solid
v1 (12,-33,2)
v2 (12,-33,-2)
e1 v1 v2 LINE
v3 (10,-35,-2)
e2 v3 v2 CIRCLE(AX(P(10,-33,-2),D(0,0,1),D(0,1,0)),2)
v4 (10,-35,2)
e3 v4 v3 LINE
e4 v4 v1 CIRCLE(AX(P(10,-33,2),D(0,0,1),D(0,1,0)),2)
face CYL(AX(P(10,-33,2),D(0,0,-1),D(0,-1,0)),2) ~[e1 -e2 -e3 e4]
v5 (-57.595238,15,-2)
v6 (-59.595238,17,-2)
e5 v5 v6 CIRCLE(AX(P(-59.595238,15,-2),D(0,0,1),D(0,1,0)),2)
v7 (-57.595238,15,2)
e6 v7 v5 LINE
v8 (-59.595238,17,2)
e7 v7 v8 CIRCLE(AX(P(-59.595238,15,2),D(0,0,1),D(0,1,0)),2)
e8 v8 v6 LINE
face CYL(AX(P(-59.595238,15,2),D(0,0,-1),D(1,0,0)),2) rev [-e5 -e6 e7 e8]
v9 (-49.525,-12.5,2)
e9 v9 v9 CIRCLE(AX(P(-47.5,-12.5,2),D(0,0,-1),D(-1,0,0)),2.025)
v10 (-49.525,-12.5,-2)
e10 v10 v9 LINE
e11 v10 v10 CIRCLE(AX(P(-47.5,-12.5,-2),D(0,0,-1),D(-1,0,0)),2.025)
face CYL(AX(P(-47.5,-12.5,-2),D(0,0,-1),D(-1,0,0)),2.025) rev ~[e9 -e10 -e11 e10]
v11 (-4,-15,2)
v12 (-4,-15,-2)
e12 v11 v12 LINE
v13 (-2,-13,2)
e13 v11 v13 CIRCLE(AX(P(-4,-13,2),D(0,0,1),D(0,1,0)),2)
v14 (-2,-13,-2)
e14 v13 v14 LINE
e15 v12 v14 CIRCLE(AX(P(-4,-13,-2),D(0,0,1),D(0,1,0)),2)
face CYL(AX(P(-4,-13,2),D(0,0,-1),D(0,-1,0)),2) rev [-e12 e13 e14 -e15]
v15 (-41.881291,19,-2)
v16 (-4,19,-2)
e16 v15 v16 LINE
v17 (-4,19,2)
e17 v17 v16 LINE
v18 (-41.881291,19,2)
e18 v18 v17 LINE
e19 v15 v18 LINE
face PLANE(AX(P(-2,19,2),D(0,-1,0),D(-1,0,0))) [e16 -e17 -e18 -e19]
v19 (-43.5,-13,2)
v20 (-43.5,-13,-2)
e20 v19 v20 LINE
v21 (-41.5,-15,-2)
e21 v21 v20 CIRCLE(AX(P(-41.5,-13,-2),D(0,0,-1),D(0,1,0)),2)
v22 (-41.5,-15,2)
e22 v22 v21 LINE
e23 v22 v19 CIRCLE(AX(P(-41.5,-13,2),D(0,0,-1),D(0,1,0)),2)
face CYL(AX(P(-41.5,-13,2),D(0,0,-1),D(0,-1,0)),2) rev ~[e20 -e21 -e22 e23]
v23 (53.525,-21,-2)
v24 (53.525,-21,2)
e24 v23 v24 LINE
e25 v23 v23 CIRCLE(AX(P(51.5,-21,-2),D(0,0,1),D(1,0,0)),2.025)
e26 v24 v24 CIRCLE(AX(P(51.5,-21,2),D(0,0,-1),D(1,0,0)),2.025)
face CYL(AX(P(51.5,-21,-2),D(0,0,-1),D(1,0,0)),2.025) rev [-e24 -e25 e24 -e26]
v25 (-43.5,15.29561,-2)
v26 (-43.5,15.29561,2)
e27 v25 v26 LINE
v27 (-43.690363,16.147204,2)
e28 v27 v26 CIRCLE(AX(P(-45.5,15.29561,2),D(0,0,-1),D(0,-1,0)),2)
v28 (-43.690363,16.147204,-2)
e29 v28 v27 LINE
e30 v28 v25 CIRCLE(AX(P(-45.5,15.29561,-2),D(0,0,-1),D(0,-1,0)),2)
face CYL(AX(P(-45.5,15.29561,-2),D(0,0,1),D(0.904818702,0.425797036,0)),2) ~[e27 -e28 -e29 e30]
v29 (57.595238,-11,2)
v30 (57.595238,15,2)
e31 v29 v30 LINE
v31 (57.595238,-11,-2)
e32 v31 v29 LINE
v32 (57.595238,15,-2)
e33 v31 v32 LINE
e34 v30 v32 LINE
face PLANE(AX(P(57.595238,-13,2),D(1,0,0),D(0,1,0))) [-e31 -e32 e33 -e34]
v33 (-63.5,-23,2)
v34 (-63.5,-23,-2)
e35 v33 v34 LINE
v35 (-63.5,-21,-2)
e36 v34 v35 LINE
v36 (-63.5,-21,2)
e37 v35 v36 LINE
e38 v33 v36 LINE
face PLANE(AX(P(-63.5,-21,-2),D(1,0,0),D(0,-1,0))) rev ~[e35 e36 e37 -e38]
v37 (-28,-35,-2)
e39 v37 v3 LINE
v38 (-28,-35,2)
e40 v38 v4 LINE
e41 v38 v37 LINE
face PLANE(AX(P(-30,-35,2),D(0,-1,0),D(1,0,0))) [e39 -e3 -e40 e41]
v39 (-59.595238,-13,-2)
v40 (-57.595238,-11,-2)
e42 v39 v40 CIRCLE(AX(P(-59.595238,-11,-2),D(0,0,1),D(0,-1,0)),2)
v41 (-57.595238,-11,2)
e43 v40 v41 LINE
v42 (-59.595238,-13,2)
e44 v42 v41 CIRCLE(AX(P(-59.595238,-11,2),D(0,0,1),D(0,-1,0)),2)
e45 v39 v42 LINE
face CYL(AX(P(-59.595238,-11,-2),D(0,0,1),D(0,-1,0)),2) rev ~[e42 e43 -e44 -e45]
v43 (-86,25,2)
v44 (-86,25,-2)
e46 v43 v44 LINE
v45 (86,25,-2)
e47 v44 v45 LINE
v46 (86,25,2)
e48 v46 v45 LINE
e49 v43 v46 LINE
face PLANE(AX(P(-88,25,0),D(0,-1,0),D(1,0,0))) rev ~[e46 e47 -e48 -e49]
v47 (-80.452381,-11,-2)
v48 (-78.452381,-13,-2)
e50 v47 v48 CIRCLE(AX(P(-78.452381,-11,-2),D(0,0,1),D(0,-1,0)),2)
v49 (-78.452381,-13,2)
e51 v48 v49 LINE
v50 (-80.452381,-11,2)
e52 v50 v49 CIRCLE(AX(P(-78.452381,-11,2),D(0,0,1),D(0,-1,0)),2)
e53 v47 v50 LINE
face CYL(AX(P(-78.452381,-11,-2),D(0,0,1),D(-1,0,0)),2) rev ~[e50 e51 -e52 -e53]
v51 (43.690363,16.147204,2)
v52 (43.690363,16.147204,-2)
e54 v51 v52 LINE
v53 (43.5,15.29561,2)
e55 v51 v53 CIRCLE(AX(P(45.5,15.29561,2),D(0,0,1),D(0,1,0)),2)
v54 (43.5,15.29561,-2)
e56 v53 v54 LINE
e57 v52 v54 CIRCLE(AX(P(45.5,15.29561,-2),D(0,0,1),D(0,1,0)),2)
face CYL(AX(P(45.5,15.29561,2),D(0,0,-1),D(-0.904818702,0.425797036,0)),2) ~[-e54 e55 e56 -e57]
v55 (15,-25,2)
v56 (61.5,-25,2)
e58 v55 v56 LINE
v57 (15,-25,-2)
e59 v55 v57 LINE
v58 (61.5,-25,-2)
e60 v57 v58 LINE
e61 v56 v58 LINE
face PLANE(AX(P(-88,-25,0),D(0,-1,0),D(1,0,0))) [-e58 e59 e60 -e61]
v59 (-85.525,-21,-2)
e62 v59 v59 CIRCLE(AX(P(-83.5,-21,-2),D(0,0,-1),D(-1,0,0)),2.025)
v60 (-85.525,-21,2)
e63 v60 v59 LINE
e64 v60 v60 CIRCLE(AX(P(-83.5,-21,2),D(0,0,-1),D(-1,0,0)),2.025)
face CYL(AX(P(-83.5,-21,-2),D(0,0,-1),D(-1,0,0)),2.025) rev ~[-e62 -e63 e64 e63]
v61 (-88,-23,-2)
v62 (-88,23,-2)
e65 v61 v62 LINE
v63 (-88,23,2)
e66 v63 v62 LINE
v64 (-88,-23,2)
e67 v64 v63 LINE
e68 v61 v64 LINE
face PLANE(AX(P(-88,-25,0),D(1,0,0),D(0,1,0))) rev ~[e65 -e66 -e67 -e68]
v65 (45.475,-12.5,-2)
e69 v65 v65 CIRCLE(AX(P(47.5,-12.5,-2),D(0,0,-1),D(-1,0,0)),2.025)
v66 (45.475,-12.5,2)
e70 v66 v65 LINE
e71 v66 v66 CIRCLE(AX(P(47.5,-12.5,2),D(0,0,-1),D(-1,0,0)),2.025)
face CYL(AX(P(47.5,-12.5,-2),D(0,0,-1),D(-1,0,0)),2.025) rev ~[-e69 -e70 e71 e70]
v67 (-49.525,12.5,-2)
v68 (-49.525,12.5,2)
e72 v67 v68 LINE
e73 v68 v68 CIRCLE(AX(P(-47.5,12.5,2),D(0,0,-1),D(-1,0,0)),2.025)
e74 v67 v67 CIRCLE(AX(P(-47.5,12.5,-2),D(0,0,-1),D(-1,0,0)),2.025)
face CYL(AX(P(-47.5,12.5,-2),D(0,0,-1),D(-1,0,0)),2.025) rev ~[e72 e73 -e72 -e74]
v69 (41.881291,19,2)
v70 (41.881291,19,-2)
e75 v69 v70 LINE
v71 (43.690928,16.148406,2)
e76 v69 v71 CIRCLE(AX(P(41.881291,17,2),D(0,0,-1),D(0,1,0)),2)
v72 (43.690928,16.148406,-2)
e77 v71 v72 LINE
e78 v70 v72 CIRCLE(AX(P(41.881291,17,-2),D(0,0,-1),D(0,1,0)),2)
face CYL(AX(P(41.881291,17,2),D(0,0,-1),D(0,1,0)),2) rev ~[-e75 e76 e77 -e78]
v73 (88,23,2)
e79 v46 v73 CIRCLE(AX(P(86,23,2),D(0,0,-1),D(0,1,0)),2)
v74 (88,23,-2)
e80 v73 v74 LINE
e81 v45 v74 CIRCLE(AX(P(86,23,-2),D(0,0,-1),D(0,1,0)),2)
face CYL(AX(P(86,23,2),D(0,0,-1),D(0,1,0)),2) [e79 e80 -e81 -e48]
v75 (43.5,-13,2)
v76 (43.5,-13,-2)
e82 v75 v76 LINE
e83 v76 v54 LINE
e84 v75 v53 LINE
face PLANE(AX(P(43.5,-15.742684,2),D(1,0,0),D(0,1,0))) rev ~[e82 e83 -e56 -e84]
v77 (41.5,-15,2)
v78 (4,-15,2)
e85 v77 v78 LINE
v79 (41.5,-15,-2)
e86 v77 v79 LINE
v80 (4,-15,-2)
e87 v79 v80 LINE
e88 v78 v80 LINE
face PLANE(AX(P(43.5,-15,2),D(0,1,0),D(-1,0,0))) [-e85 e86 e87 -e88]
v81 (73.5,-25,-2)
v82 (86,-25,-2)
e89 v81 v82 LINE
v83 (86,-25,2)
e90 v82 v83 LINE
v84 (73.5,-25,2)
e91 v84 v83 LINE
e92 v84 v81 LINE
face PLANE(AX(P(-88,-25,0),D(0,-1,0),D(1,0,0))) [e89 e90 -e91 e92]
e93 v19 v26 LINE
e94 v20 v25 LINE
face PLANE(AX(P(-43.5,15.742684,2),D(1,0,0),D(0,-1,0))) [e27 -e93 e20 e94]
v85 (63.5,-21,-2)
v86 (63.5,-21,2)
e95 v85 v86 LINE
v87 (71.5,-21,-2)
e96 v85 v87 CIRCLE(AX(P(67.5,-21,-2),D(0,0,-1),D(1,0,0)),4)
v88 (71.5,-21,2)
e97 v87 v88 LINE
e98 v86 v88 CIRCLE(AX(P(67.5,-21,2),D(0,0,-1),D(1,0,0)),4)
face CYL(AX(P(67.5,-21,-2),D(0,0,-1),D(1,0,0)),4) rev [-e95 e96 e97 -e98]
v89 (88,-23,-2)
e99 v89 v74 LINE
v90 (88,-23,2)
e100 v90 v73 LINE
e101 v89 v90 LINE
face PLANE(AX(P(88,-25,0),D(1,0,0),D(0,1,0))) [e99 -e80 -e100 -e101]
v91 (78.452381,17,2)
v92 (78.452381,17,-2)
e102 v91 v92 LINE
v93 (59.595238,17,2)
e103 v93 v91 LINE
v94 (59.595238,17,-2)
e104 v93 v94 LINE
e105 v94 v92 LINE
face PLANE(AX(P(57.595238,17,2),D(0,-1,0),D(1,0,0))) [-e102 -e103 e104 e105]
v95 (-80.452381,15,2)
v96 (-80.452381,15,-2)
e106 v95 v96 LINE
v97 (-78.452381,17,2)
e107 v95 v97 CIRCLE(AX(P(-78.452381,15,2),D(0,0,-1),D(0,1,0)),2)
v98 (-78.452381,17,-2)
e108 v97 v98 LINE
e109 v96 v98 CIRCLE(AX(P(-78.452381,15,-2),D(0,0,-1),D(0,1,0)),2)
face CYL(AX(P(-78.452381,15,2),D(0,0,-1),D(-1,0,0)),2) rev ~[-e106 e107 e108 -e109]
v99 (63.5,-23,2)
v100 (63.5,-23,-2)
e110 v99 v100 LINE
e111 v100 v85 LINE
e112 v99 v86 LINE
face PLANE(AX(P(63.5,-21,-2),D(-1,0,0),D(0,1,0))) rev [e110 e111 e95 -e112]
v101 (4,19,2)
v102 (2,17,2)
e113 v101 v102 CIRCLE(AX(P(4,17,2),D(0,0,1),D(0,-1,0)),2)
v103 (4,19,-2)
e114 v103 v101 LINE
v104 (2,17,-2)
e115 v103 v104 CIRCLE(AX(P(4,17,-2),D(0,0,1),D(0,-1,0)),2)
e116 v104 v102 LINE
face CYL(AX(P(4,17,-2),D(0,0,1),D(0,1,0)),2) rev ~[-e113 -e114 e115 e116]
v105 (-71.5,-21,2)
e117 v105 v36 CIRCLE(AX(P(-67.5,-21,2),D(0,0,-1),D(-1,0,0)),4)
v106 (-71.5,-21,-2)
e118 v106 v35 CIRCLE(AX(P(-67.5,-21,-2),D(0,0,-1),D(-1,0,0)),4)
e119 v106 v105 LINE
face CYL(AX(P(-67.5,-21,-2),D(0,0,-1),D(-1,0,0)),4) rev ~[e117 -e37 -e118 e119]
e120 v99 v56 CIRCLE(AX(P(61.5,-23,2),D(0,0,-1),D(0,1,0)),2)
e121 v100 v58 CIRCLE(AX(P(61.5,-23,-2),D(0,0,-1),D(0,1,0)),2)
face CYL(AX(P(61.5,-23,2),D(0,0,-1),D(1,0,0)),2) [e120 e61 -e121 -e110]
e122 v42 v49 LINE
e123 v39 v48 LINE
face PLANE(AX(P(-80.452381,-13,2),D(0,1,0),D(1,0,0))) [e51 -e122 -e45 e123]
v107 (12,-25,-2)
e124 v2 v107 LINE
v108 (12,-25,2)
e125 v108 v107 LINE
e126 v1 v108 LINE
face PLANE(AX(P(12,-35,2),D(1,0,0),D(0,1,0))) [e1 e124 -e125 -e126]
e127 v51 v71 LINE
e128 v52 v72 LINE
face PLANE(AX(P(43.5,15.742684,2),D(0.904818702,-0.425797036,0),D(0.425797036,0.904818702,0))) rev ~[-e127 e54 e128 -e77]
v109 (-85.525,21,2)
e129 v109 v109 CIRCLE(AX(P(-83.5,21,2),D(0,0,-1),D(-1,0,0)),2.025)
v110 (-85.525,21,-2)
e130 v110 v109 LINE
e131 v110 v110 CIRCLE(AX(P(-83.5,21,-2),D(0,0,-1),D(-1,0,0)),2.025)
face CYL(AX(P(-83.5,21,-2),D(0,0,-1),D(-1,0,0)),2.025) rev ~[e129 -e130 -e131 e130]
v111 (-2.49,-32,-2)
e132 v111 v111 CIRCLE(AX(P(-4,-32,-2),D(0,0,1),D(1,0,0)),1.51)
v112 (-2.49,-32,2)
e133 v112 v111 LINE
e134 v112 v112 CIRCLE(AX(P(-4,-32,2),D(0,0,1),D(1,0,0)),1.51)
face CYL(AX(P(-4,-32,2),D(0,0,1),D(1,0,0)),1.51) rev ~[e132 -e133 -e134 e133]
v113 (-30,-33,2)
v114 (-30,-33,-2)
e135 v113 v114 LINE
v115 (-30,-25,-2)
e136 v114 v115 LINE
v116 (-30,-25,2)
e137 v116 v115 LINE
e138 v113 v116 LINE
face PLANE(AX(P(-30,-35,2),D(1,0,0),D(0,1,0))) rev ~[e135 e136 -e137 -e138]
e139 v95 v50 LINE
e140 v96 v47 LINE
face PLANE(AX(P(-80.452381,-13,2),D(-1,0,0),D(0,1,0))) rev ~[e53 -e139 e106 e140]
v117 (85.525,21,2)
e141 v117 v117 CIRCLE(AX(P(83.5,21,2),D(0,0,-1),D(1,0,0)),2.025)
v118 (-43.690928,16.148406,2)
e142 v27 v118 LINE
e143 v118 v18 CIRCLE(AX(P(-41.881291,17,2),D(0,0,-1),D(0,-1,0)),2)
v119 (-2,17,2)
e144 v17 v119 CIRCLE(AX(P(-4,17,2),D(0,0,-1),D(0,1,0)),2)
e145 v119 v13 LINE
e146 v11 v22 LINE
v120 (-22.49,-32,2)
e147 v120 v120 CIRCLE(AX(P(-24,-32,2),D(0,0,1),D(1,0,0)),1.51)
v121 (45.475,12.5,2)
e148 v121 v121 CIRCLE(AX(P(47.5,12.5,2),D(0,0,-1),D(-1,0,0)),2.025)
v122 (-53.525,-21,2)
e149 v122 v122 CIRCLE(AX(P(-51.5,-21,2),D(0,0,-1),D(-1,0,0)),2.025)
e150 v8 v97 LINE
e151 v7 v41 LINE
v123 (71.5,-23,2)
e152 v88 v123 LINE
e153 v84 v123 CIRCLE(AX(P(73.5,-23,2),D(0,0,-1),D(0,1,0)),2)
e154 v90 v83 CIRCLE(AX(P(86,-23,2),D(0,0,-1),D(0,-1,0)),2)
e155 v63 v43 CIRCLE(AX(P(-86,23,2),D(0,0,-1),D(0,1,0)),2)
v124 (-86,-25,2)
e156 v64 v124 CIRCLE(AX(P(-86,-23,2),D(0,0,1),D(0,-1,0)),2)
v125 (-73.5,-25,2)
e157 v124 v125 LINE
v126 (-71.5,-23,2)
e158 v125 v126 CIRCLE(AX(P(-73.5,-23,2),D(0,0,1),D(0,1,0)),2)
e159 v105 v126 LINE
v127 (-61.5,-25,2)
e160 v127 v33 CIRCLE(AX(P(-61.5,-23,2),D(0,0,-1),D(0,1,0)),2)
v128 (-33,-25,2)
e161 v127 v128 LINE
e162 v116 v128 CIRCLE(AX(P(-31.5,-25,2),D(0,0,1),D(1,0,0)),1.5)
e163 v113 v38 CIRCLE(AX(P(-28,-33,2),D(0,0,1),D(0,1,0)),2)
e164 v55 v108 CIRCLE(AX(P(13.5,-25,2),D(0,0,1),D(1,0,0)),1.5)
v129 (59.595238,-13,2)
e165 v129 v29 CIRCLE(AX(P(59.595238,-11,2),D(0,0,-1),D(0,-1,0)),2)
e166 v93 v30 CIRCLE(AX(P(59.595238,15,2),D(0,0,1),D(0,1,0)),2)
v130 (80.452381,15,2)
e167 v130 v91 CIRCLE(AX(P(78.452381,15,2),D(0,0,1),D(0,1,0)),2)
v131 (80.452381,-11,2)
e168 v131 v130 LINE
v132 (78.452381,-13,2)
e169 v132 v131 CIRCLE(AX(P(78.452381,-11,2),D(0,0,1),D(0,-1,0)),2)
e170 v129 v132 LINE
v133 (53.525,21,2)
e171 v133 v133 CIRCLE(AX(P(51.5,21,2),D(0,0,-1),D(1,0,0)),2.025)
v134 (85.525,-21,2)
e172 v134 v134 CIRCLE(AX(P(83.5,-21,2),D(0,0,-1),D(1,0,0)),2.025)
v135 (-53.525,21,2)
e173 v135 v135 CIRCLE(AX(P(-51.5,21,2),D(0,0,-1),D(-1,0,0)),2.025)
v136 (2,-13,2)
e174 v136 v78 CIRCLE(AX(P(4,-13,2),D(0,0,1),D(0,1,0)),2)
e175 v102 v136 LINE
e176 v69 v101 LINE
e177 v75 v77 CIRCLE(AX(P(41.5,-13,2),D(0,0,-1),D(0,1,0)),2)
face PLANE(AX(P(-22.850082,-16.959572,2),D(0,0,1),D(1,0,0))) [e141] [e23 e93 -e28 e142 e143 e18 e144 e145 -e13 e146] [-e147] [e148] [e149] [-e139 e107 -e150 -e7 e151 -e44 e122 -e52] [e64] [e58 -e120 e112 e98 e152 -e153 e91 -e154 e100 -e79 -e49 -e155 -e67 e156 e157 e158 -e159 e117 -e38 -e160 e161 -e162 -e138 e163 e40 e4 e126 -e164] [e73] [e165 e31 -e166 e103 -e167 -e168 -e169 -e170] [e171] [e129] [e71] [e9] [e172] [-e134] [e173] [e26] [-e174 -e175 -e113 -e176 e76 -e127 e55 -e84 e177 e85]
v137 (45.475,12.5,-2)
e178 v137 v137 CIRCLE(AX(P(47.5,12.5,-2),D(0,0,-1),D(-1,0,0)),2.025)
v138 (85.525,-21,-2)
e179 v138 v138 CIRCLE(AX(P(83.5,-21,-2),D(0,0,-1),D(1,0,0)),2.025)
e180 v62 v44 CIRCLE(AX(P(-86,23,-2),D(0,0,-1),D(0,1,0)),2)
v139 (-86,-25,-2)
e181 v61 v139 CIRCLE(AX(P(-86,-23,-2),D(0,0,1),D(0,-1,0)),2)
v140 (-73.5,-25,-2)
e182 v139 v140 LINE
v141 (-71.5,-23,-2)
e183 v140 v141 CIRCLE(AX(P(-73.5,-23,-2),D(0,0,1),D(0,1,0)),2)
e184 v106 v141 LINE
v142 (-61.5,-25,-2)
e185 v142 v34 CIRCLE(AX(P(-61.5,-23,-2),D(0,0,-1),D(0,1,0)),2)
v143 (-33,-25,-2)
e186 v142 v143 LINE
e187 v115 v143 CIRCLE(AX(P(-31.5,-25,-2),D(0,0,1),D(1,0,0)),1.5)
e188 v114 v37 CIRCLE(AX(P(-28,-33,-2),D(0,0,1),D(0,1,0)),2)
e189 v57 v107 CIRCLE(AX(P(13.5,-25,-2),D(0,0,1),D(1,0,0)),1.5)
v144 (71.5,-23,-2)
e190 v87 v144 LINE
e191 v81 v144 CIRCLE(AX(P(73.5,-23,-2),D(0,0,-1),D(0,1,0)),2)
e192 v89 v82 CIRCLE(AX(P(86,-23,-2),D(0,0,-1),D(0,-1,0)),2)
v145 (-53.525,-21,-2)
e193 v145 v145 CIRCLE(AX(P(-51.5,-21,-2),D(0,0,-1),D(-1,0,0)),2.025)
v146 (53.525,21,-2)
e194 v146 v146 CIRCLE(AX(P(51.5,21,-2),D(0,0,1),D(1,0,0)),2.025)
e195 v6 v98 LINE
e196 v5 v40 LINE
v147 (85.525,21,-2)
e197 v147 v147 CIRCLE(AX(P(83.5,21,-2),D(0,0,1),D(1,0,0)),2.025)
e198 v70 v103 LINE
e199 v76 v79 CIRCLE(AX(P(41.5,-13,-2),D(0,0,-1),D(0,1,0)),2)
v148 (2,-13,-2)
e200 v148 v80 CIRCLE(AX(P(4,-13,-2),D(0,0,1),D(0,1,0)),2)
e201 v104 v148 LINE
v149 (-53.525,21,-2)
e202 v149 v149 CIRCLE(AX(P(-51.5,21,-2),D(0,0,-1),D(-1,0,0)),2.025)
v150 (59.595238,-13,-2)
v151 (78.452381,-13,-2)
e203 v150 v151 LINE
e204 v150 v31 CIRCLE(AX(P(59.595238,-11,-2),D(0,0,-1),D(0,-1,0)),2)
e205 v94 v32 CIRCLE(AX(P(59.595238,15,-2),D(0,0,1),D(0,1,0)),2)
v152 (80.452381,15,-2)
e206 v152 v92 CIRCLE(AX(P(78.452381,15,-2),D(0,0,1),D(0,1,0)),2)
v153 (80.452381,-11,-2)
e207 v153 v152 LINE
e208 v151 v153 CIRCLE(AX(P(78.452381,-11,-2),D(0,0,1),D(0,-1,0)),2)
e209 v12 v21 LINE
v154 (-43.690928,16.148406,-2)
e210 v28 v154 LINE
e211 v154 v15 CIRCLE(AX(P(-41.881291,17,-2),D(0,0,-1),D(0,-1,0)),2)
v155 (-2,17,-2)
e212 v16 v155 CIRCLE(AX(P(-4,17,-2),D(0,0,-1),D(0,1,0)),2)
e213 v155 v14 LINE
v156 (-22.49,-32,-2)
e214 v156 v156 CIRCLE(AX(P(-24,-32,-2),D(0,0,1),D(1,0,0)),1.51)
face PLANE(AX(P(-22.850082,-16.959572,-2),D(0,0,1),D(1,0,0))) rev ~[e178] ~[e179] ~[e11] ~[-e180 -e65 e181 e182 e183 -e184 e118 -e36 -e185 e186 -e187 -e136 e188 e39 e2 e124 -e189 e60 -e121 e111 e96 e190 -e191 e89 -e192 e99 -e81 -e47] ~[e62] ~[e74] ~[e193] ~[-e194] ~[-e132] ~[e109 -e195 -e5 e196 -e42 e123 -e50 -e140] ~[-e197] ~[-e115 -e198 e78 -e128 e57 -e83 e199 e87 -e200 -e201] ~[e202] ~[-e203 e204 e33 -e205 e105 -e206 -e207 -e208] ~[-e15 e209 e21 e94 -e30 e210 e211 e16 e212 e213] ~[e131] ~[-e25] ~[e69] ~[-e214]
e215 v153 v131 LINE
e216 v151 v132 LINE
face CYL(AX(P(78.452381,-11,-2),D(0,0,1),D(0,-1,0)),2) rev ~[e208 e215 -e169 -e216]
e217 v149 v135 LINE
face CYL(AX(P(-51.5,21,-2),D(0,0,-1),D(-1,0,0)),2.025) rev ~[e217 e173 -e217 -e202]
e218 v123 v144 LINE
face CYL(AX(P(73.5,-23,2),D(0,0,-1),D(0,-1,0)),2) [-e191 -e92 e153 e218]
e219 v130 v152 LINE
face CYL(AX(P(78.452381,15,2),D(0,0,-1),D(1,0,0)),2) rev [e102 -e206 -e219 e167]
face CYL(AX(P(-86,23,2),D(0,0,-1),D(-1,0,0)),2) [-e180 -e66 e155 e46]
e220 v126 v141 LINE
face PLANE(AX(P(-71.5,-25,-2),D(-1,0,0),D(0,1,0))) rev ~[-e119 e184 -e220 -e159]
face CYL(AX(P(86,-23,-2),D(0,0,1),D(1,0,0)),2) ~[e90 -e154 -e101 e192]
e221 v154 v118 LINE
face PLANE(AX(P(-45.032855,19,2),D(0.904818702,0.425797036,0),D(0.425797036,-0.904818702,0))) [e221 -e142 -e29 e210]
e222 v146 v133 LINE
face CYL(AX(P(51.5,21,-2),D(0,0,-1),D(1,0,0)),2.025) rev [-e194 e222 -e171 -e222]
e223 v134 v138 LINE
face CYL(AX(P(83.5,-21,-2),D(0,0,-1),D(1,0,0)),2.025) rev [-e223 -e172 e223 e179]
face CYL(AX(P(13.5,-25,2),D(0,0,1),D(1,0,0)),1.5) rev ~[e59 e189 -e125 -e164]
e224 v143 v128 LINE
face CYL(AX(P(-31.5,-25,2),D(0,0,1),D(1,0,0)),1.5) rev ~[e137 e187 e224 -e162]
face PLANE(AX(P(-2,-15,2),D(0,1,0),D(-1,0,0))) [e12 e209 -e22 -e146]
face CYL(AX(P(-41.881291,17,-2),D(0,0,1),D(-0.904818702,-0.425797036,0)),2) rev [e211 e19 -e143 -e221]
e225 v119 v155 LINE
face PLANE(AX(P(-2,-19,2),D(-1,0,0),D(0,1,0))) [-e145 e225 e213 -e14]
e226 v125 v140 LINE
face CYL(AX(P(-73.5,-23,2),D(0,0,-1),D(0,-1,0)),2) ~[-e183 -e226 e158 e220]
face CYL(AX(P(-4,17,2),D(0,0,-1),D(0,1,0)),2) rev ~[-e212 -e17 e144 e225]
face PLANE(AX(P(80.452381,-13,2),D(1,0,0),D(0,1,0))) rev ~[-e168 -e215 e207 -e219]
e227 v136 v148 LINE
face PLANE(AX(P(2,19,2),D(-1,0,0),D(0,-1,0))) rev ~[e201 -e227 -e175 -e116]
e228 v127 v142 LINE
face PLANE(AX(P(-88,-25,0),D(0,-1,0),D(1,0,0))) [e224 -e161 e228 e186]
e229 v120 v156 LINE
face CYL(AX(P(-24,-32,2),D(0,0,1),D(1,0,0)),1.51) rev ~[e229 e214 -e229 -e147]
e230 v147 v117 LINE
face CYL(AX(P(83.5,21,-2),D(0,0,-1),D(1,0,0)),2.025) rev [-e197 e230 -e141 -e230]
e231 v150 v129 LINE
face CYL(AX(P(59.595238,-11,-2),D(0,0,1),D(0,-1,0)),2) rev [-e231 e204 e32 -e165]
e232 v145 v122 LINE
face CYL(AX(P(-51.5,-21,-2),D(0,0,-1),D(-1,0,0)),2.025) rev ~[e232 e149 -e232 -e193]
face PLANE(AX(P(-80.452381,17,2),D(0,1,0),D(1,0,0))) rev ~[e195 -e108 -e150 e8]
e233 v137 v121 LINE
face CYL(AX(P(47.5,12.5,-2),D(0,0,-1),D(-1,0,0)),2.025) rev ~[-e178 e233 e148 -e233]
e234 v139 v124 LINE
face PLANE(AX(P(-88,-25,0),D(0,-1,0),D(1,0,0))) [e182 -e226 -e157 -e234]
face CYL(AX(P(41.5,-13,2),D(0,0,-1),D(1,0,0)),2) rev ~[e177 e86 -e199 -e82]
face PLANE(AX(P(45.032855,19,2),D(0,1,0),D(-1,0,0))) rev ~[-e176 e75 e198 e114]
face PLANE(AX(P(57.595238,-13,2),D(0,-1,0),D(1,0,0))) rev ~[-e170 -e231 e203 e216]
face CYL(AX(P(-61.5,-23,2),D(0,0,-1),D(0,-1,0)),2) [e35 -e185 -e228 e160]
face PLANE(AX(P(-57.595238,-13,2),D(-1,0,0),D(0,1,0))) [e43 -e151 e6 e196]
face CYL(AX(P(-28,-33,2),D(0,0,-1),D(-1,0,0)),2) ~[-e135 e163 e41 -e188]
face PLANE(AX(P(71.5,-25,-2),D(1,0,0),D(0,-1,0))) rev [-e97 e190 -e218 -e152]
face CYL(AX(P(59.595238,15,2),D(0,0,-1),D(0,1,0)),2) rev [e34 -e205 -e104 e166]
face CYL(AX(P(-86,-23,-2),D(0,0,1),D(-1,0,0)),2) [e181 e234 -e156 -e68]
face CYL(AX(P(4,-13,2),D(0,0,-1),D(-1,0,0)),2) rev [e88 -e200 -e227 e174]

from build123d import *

# Parameters (mm, degrees)
SKETCH_1_W          = 176
SKETCH_1_H          = 50
EXTRUDE_1_DEPTH     = 2
SKETCH_2_R          = 2.025
CUT_EXTRUDE_1_DEPTH = 22
CUT_EXTRUDE_2_DEPTH = 17
FILLET_1_R          = 2
SKETCH_4_R          = 2.025
CUT_EXTRUDE_3_DEPTH = 5
CUT_EXTRUDE_5_DEPTH = 15.5
SKETCH_8_W          = 22.857142857
SKETCH_8_H          = 30
CUT_EXTRUDE_6_DEPTH = 15.5
FILLET_2_R          = 2
SKETCH_11_W         = 42
SKETCH_11_H         = 10
EXTRUDE_4_DEPTH     = 4
SKETCH_12_R         = 1.51
CUT_EXTRUDE_8_DEPTH = 4
SKETCH_13_R         = 1.5
CUT_EXTRUDE_9_DEPTH = 10
EXTRUDE_5_DEPTH     = 4
FILLET_3_R          = 2
FILLET_4_R          = 2


with BuildPart() as part:
    # 草图1 → 凸台-拉伸1 (new, symmetric)
    with BuildSketch(Plane.XY):
        Rectangle(SKETCH_1_W, SKETCH_1_H)
    extrude(amount=EXTRUDE_1_DEPTH, both=True)

    # 草图2 → 切除-拉伸1 (cut, symmetric)
    with BuildSketch(Plane(origin=(0, 0, -2), x_dir=(-1, 0, 0), z_dir=(0, 0, -1))):
        with Locations((51.5, 21)):
            Circle(SKETCH_2_R)
        with Locations((51.5, -21)):
            Circle(SKETCH_2_R)
        with Locations((83.5, 21)):
            Circle(SKETCH_2_R)
        with Locations((83.5, -21)):
            Circle(SKETCH_2_R)
    cut_extrude_1 = extrude(amount=CUT_EXTRUDE_1_DEPTH, both=True, mode=Mode.SUBTRACT)

    # 镜向1: 切除-拉伸1 across plane
    add(cut_extrude_1.mirror(Plane(origin=(0, 0, 0), x_dir=(0, 0, 1), z_dir=(1, 0, 0))), mode=Mode.SUBTRACT)

    # 草图3 → 切除-拉伸2 (cut, symmetric)
    with BuildSketch(Plane(origin=(0, 0, -2), x_dir=(-1, 0, 0), z_dir=(0, 0, -1))):
        with BuildLine():
            Line((63.5, -21), (63.5, -25))
            Line((63.5, -25), (71.5, -25))
            Line((71.5, -25), (71.5, -21))
            ThreePointArc((71.5, -21), (67.5, -17), (63.5, -21))
        make_face()
    cut_extrude_2 = extrude(amount=CUT_EXTRUDE_2_DEPTH, both=True, mode=Mode.SUBTRACT)

    # 镜向2: 切除-拉伸2 across plane
    add(cut_extrude_2.mirror(Plane(origin=(0, 0, 0), x_dir=(0, 0, 1), z_dir=(1, 0, 0))), mode=Mode.SUBTRACT)

    # 圆角1
    fillet_1_edges = [part.edges().sort_by_distance(p)[0] for p in [
        (-71.5, -25, 0),
        (-63.5, -25, 0),
        (88, -25, 0),
        (-88, -25, 0),
        (-88, 25, 0),
        (88, 25, 0),
        (63.5, -25, 0),
        (71.5, -25, 0),
    ]]
    fillet(fillet_1_edges, radius=FILLET_1_R)

    # 草图4 → 切除-拉伸3 (cut, symmetric)
    with BuildSketch(Plane(origin=(0, 0, -2), x_dir=(-1, 0, 0), z_dir=(0, 0, -1))):
        with Locations((47.5, -12.5)):
            Circle(SKETCH_4_R)
        with Locations((47.5, 12.5)):
            Circle(SKETCH_4_R)
        with Locations((-47.5, 12.5)):
            Circle(SKETCH_4_R)
        with Locations((-47.5, -12.5)):
            Circle(SKETCH_4_R)
    extrude(amount=CUT_EXTRUDE_3_DEPTH, both=True, mode=Mode.SUBTRACT)

    # 草图7 → 切除-拉伸5 (cut, symmetric)
    with BuildSketch(Plane.XY.offset(2)):
        Polygon((-2, 19), (-45.032854639, 19), (-43.5, 15.742683893), (-43.5, -15.742683893), (-45.032854639, -19), (-2, -19), align=None)
        Polygon((45.032854639, 19), (2, 19), (2, -19), (45.032854639, -19), (43.5, -15.742683893), (43.5, 15.742683893), align=None)
    extrude(amount=CUT_EXTRUDE_5_DEPTH, both=True, mode=Mode.SUBTRACT)

    # 草图8 → 切除-拉伸6 (cut, symmetric)
    with BuildSketch(Plane.XY.offset(2)):
        with Locations((-69.023809524, 2)):
            Rectangle(SKETCH_8_W, SKETCH_8_H)
        with Locations((69.023809524, 2)):
            Rectangle(SKETCH_8_W, SKETCH_8_H)
    extrude(amount=CUT_EXTRUDE_6_DEPTH, both=True, mode=Mode.SUBTRACT)

    # 圆角2
    fillet_2_edges = [part.edges().sort_by_distance(p)[0] for p in [
        (-2, 19, 0),
        (-2, -19, 0),
        (-45.032854639, -19, 0),
        (-43.5, -15.742683893, 0),
        (-43.5, 15.742683893, 0),
        (-45.032854639, 19, 0),
        (2, 19, 0),
        (45.032854639, 19, 0),
        (43.5, 15.742683893, 0),
        (43.5, -15.742683893, 0),
        (45.032854639, -19, 0),
        (2, -19, 0),
        (-80.452380952, -13, 0),
        (-80.452380952, 17, 0),
        (-57.595238095, 17, 0),
        (-57.595238095, -13, 0),
        (80.452380952, 17, 0),
        (80.452380952, -13, 0),
        (57.595238095, -13, 0),
        (57.595238095, 17, 0),
    ]]
    fillet(fillet_2_edges, radius=FILLET_2_R)

    # 草图11 → 凸台-拉伸4 (add)
    with BuildSketch(Plane.XY.offset(2)):
        with Locations((-9, -30)):
            Rectangle(SKETCH_11_W, SKETCH_11_H)
    extrude(amount=-EXTRUDE_4_DEPTH)

    # 草图12 → 切除-拉伸8 (cut)
    with BuildSketch(Plane.XY.offset(2)):
        with Locations((-4, -32)):
            Circle(SKETCH_12_R)
        with Locations((-24, -32)):
            Circle(SKETCH_12_R)
    extrude(amount=-CUT_EXTRUDE_8_DEPTH, mode=Mode.SUBTRACT)

    # 草图13 → 切除-拉伸9 (cut)
    with BuildSketch(Plane.XY.offset(2)):
        with Locations((-31.5, -25)):
            Circle(SKETCH_13_R)
        with Locations((13.5, -25)):
            Circle(SKETCH_13_R)
    extrude(amount=-CUT_EXTRUDE_9_DEPTH, mode=Mode.SUBTRACT)

    # 草图14 → 凸台-拉伸5 (add)
    with BuildSketch(Plane.XY.offset(2)):
        with BuildLine():
            Line((-2, -15), (-43.5, -15))
            Line((-43.5, -15), (-43.5, -15.295610336))
            ThreePointArc((-43.5, -15.295610336), (-43.548170754, -15.731915957), (-43.690362596, -16.147204408))
            Line((-43.690362596, -16.147204408), (-43.690928016, -16.148405927))
            ThreePointArc((-43.690928016, -16.148405927), (-43.569956971, -18.071637032), (-41.881290612, -19))
            Line((-41.881290612, -19), (-4, -19))
            ThreePointArc((-4, -19), (-2.585786438, -18.414213562), (-2, -17))
            Line((-2, -17), (-2, -15))
        make_face()
        with BuildLine():
            Line((43.5, -15), (2, -15))
            Line((2, -15), (2, -17))
            ThreePointArc((2, -17), (2.585786438, -18.414213562), (4, -19))
            Line((4, -19), (41.881290612, -19))
            ThreePointArc((41.881290612, -19), (43.569956971, -18.071637032), (43.690928016, -16.148405927))
            Line((43.690928016, -16.148405927), (43.690362596, -16.147204408))
            ThreePointArc((43.690362596, -16.147204408), (43.548170754, -15.731915957), (43.5, -15.295610336))
            Line((43.5, -15.295610336), (43.5, -15))
        make_face()
    extrude(amount=-EXTRUDE_5_DEPTH)

    # 圆角3
    fillet_3_edges = [part.edges().sort_by_distance(p)[0] for p in [
        (-2, -15, 0),
        (-43.5, -15, 0),
        (43.5, -15, 0),
        (2, -15, 0),
    ]]
    fillet(fillet_3_edges, radius=FILLET_3_R)

    # 圆角4
    fillet_4_edges = [part.edges().sort_by_distance(p)[0] for p in [
        (12, -35, 0),
        (-30, -35, 0),
    ]]
    fillet(fillet_4_edges, radius=FILLET_4_R)


solid = part.part
